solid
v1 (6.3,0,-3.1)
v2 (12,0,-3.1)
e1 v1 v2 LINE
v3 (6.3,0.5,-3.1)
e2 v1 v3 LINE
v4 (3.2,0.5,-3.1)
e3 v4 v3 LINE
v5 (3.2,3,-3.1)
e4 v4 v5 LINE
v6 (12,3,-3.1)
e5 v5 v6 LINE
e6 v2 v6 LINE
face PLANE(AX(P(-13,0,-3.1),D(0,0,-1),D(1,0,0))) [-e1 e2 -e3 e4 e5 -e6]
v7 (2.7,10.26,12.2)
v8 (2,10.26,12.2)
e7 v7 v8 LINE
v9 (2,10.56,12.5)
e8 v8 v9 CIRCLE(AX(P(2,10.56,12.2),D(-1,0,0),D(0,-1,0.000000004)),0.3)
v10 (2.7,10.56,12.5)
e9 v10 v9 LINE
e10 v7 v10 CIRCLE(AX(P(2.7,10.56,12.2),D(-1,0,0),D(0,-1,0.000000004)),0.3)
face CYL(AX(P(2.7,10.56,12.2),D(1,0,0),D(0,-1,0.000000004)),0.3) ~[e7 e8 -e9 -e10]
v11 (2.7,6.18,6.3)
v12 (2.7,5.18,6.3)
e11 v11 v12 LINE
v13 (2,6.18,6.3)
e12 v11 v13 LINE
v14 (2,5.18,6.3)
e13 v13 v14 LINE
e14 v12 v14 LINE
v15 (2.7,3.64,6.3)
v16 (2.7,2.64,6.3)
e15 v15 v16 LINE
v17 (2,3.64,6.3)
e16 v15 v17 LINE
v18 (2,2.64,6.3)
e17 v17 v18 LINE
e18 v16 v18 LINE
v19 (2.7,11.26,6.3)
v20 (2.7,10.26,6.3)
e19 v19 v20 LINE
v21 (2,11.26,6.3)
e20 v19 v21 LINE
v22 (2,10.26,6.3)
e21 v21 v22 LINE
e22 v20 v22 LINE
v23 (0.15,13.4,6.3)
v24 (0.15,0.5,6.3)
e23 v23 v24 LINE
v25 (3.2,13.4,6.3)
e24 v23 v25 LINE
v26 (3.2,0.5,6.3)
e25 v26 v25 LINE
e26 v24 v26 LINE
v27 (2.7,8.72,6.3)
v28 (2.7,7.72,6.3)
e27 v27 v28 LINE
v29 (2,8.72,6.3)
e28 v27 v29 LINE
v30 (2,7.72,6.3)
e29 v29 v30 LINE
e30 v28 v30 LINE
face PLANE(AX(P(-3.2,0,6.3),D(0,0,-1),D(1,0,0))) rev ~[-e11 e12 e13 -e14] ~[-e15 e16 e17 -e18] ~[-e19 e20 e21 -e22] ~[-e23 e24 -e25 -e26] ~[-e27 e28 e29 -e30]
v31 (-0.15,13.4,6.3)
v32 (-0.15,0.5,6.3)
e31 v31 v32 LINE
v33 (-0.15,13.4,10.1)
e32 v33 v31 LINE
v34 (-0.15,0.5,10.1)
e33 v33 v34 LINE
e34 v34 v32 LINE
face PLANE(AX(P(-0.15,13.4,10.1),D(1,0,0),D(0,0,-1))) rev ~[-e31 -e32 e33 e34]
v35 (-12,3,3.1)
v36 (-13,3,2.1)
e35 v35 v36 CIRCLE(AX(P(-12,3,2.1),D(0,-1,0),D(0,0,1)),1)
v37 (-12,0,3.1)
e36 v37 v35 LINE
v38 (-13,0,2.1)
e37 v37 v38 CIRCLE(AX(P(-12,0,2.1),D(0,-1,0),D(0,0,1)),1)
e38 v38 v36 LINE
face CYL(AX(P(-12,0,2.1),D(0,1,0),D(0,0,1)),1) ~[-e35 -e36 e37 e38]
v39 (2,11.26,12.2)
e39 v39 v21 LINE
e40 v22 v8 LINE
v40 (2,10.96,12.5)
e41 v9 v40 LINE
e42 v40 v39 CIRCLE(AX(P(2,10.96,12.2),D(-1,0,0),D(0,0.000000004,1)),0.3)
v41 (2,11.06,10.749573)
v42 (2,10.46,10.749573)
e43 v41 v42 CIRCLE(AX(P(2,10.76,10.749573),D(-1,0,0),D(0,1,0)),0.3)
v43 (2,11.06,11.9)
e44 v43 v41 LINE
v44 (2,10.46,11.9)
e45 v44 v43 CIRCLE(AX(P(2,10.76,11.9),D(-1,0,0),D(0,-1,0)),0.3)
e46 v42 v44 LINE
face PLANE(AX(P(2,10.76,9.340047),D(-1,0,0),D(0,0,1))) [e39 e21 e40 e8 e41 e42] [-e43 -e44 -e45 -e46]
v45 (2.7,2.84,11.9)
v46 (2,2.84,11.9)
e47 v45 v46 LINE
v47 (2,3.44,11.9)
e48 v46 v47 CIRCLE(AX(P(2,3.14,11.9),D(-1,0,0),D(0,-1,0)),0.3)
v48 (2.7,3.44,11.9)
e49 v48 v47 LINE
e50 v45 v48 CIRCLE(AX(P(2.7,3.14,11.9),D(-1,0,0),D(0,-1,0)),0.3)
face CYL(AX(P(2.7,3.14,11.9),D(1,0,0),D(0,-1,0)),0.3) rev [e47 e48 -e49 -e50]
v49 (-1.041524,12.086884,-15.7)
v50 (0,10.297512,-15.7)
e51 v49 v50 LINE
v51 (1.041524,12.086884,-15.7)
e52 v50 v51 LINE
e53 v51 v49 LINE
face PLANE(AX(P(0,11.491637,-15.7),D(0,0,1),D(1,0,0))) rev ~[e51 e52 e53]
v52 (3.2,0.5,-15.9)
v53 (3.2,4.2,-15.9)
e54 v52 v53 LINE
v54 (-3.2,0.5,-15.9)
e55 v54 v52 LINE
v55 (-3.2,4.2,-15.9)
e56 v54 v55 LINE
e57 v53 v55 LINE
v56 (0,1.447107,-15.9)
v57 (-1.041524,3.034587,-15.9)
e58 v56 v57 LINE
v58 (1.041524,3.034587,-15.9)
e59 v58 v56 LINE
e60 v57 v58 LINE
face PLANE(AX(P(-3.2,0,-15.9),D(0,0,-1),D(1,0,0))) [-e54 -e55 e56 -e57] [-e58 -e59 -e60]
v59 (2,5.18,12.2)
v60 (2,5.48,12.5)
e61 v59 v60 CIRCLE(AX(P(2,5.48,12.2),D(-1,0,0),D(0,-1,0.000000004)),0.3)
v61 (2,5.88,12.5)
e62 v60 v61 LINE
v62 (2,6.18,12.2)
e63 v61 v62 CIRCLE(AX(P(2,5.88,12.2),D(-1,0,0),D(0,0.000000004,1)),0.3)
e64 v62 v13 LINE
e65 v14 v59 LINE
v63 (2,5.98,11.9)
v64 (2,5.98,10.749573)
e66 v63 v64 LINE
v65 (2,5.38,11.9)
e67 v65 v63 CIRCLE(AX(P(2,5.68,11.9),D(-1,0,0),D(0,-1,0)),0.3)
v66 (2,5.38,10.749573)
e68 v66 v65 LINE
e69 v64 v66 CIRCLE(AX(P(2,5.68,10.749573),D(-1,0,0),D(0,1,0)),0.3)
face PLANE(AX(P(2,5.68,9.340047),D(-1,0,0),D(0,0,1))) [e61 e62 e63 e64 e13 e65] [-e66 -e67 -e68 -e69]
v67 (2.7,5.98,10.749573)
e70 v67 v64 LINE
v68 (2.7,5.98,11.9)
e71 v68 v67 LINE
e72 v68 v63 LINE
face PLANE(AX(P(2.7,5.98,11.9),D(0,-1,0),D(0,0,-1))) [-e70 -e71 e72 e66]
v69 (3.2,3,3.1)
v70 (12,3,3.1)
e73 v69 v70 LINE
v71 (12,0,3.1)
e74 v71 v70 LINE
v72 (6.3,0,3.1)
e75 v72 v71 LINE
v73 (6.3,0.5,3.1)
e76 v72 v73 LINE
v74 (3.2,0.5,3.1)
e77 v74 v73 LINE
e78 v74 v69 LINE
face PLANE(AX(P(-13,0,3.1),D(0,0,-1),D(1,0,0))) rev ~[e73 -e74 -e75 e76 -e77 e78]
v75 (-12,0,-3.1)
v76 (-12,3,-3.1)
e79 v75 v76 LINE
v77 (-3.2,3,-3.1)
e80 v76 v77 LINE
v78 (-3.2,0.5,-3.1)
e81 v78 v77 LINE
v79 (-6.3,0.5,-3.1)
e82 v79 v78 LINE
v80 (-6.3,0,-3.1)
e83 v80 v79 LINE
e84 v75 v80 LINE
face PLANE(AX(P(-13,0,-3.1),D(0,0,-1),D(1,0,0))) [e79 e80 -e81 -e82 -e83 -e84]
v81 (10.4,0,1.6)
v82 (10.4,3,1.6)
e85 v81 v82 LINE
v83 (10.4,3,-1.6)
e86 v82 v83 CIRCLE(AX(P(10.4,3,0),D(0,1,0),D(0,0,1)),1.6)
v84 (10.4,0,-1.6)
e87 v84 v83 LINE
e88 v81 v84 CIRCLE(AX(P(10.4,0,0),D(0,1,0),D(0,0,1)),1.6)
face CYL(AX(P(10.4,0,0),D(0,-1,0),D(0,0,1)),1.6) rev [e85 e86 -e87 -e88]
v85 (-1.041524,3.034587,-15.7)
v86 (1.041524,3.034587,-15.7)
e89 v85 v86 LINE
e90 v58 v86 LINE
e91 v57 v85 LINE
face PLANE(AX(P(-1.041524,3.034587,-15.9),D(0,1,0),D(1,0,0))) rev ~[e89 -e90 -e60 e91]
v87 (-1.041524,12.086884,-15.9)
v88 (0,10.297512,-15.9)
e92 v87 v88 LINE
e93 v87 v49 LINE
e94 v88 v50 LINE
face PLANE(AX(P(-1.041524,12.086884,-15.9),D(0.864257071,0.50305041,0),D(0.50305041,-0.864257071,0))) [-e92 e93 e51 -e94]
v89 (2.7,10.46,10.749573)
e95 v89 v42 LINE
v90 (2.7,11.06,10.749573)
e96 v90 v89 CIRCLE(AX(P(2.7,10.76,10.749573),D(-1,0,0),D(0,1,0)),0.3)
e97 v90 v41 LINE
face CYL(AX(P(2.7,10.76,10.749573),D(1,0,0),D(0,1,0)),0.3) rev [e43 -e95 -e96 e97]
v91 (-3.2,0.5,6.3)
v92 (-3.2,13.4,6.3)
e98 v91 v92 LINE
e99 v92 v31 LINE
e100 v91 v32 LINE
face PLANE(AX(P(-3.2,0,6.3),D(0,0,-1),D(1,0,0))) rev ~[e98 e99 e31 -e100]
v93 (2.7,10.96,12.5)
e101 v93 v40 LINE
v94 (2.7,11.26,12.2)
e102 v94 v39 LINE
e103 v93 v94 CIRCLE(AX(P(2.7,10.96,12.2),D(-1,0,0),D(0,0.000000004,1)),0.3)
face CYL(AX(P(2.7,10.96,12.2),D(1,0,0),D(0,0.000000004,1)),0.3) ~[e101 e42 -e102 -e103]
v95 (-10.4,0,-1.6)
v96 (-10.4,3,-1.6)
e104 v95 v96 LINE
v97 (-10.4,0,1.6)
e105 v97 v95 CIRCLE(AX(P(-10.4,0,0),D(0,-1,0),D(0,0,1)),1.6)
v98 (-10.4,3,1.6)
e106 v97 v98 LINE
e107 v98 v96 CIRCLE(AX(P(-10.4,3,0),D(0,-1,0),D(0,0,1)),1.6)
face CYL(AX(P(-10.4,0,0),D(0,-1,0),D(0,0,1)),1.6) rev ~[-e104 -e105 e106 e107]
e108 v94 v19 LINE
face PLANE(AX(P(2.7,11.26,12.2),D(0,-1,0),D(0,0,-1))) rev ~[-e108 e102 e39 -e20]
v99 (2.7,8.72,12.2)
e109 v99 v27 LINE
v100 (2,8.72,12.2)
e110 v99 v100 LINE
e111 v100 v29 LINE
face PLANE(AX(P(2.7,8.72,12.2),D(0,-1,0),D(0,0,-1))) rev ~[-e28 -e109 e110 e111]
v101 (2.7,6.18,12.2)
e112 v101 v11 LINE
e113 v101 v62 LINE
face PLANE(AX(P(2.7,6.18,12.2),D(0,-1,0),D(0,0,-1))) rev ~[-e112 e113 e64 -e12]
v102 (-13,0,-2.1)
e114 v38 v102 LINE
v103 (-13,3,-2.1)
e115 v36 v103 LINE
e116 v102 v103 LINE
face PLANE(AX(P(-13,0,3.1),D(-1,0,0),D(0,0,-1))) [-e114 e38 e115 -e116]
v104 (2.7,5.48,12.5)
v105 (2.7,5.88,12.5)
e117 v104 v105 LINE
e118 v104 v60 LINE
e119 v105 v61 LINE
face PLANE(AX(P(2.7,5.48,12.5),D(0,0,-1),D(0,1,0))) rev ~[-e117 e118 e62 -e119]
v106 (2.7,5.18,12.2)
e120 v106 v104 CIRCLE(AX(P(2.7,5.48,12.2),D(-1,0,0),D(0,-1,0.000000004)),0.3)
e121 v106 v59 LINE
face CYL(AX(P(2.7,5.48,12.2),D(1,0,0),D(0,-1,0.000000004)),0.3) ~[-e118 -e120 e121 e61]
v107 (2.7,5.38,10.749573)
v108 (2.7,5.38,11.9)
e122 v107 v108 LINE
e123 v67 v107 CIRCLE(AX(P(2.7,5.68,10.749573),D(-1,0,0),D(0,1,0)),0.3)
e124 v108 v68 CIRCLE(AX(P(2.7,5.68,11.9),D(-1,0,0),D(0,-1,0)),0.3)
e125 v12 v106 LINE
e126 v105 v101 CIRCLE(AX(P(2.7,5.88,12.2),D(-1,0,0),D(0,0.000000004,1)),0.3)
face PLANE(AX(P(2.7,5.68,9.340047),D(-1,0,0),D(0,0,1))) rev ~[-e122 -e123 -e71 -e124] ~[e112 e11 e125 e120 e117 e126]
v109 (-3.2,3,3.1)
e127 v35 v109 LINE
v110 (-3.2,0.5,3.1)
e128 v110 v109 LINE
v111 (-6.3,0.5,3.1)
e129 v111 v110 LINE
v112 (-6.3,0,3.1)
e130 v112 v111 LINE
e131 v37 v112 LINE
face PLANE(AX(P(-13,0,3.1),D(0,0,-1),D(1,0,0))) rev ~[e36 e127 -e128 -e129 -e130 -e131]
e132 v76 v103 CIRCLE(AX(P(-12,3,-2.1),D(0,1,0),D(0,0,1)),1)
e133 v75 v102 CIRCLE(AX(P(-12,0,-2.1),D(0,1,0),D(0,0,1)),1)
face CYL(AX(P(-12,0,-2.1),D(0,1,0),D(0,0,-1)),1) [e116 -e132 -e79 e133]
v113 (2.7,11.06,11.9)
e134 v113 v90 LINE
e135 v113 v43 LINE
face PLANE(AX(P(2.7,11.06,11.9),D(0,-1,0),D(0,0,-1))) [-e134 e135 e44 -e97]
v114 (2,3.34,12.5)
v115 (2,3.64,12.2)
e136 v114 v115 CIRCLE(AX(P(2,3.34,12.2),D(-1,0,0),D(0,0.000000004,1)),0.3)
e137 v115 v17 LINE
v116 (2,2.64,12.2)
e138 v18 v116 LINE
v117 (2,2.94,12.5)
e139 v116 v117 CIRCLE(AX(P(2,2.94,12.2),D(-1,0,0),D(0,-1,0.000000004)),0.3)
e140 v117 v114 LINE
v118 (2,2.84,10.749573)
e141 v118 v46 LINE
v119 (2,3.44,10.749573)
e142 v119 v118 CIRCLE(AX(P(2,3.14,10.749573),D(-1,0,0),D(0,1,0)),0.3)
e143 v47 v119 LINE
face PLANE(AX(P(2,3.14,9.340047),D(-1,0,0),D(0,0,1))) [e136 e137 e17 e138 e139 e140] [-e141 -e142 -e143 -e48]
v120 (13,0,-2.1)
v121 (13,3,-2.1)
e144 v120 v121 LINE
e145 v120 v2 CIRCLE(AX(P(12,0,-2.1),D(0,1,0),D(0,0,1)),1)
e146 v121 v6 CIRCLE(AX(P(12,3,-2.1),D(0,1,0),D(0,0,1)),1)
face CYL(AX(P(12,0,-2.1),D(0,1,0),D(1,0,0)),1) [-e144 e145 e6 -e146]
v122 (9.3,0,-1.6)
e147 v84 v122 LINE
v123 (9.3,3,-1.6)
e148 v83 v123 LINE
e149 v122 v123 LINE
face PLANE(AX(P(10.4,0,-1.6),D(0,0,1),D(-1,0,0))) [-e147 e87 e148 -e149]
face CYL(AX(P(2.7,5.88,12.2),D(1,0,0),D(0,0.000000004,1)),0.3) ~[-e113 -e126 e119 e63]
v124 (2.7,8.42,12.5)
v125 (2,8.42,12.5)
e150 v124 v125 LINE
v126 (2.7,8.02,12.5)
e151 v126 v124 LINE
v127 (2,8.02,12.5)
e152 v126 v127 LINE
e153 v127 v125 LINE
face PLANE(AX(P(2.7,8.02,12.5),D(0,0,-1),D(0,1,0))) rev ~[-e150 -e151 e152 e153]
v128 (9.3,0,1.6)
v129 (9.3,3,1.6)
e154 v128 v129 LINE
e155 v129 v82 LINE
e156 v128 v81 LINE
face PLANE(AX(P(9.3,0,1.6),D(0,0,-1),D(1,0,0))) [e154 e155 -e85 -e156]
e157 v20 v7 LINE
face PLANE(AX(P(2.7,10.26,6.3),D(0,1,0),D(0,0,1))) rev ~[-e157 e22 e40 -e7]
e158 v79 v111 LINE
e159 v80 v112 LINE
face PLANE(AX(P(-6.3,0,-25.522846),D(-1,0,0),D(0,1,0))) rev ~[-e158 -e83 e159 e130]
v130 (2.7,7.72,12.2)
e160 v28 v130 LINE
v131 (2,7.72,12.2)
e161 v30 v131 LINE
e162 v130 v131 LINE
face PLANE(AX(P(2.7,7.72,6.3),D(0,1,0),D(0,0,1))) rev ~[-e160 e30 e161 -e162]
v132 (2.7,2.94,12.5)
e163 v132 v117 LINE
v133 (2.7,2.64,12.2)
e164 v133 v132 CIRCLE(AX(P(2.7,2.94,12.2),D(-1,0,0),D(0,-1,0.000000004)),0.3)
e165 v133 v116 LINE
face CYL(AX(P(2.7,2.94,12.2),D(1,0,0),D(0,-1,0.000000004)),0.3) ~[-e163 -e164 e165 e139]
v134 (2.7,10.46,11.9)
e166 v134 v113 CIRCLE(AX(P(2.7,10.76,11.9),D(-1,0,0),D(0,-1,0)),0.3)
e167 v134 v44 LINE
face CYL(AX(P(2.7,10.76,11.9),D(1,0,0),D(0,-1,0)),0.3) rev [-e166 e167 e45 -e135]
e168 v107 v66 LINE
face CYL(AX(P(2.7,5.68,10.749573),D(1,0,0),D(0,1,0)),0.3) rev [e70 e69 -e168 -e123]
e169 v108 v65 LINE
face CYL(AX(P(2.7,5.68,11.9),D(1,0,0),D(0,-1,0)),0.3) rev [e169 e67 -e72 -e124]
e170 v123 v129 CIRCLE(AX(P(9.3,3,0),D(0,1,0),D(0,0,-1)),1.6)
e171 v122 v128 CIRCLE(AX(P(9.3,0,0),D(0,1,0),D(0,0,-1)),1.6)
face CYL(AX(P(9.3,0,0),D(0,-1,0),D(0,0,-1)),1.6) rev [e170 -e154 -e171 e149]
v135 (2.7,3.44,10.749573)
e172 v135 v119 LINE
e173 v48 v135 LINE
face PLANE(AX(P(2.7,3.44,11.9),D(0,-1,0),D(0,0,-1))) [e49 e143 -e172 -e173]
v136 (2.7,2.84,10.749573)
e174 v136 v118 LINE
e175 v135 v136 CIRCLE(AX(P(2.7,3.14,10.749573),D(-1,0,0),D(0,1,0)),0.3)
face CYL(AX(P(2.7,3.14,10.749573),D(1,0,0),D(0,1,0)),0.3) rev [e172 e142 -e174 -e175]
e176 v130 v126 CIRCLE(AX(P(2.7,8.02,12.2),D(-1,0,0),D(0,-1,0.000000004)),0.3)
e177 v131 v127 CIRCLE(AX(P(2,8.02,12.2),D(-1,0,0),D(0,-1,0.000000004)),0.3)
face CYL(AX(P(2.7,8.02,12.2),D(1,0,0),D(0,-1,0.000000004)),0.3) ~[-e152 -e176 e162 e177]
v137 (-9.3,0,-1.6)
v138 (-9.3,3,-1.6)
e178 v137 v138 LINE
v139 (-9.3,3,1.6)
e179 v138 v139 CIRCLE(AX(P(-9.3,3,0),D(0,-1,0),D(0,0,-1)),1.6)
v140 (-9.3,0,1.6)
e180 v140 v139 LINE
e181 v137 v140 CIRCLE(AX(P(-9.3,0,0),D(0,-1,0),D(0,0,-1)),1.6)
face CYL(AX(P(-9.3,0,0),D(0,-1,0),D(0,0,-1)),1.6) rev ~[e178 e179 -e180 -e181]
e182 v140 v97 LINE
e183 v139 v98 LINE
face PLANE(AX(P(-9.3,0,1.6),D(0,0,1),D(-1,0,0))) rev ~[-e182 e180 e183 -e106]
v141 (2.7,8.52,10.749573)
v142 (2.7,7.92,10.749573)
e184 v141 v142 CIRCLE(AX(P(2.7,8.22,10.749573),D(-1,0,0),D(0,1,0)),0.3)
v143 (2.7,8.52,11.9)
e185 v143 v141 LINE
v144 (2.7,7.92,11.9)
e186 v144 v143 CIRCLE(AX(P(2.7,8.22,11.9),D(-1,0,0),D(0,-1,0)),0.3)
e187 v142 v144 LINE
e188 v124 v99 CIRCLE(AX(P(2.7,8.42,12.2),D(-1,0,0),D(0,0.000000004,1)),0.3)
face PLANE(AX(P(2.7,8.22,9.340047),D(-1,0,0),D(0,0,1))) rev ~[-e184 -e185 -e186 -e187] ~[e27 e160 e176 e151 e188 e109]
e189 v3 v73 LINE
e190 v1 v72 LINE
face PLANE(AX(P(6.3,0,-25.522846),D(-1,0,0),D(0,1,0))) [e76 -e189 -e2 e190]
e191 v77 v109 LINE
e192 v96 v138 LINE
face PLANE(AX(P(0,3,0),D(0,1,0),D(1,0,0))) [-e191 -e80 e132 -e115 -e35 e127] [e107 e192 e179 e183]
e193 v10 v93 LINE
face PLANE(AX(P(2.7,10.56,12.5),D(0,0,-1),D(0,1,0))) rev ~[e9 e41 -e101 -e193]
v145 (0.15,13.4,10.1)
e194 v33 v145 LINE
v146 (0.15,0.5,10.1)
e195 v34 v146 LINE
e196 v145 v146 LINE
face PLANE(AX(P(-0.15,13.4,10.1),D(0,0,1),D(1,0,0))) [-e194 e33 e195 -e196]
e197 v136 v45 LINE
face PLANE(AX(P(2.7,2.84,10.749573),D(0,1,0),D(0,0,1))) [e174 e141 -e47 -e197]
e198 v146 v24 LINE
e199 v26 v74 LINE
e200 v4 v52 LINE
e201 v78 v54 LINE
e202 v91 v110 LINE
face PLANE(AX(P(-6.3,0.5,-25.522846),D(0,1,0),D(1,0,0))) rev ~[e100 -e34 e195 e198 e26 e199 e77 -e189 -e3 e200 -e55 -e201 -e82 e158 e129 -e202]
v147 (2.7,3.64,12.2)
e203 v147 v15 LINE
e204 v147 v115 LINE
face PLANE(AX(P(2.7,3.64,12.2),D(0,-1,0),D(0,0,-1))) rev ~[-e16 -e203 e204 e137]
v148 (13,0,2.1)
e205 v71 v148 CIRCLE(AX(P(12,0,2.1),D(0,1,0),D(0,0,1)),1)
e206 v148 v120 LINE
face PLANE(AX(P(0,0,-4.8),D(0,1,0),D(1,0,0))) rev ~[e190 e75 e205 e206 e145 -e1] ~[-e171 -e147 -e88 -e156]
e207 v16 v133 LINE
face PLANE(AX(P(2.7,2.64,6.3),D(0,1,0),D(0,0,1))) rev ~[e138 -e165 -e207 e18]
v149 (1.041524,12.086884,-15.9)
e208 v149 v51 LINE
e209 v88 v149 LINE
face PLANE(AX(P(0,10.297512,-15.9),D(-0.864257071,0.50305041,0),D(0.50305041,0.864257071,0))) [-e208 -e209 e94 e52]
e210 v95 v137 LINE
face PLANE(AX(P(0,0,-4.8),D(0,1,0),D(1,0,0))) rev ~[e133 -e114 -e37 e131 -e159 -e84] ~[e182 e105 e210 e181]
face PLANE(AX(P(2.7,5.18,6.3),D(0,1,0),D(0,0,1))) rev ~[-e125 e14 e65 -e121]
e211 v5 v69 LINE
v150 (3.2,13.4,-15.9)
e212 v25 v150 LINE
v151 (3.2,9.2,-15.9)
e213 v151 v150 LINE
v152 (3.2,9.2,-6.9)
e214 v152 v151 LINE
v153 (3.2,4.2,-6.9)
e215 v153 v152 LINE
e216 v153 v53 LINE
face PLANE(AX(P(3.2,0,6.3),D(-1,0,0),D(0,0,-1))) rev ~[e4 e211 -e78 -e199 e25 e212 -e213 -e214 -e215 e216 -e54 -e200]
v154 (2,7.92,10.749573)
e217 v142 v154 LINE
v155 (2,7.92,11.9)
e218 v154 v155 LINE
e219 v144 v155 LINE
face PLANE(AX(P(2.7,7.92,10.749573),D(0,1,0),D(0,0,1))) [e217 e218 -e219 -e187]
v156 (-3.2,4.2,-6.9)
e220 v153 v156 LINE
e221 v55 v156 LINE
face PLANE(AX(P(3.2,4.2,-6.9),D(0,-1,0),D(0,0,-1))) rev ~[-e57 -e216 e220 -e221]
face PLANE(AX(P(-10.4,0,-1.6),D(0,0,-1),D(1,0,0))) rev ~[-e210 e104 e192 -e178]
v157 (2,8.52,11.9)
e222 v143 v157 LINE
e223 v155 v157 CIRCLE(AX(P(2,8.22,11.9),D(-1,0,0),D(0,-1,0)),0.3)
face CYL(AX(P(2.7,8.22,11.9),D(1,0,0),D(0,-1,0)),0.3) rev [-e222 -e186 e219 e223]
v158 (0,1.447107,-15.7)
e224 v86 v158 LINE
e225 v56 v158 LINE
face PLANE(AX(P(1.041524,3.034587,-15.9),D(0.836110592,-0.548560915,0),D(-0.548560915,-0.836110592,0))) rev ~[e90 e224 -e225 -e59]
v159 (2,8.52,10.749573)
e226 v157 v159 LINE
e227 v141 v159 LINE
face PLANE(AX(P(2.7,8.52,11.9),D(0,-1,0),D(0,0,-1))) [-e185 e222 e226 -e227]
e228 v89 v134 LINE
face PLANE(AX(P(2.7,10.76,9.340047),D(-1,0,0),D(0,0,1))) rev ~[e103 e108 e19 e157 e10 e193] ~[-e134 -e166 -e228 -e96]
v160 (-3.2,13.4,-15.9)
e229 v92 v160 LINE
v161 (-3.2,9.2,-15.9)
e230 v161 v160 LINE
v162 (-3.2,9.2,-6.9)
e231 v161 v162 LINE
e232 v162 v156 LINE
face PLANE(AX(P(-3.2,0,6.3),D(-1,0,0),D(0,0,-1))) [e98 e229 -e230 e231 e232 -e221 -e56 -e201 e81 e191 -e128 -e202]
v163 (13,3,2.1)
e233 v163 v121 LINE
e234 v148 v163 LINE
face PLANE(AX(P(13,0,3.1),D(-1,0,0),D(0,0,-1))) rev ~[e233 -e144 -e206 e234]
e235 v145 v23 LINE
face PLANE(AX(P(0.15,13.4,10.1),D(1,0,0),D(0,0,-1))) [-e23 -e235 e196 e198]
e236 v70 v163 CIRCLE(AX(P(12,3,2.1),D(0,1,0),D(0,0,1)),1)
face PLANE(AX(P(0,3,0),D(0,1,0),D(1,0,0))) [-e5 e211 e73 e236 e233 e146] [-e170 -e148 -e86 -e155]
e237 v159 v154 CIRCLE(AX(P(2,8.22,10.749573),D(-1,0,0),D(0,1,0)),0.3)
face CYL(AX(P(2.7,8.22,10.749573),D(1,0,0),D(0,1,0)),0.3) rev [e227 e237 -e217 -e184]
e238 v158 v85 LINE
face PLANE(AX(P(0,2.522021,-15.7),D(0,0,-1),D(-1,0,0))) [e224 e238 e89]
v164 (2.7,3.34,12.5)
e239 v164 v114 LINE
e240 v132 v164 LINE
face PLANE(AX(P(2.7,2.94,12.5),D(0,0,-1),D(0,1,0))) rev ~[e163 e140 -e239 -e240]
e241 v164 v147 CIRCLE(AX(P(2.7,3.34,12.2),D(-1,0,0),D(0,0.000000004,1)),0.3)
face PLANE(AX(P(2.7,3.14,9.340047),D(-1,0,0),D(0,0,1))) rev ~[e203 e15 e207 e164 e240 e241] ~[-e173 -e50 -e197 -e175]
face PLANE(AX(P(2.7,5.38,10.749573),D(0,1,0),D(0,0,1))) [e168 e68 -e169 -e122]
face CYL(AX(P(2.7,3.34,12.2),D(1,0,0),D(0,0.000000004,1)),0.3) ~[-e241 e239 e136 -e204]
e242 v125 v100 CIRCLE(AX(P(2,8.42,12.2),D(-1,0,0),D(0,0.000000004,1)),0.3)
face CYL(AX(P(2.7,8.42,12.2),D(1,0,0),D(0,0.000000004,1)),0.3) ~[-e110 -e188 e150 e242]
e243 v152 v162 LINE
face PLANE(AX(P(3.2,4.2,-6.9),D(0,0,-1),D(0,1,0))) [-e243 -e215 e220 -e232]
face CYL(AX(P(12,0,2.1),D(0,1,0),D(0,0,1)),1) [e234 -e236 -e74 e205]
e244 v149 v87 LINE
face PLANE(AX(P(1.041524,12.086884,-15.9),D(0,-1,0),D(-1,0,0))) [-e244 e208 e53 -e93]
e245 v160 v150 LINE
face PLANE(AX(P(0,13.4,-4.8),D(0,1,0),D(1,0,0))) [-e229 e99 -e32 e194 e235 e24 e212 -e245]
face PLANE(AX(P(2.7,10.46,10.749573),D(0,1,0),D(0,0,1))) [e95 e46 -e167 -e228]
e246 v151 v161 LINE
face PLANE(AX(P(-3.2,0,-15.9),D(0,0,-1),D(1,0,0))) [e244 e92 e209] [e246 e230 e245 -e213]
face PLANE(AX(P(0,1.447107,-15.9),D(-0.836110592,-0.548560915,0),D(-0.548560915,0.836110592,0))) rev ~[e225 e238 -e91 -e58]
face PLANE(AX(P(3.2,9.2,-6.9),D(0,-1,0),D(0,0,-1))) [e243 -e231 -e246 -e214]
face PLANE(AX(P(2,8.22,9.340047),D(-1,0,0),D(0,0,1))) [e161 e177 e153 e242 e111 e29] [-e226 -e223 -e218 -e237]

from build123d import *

# Parameters (mm, degrees)
SKETCH2_W               = 26
SKETCH2_H               = 6.2
BOSS_EXTRUDE1_DEPTH     = 3
SKETCH3_W               = 6.4
SKETCH3_H               = 22.2
BOSS_EXTRUDE2_DEPTH     = 13.4
SKETCH4_W               = 9
SKETCH4_H               = 5
CUT_EXTRUDE1_DEPTH      = 27.359248851
FILLET1_R               = 1
CUT_EXTRUDE2_DEPTH      = 25.522846491
CUT_EXTRUDE2_DEPTH_BACK = 25.522846491
SKETCH6_W               = 12.6
SKETCH6_H               = 0.5
SKETCH8_W               = 0.3
SKETCH8_H               = 3.8
BOSS_EXTRUDE4_DEPTH     = 12.9
BOSS_EXTRUDE5_START     = -0.5
BOSS_EXTRUDE5_DEPTH     = 0.7
CUT_EXTRUDE3_DEPTH      = 0.2


with BuildPart() as part:
    # Sketch2 → Boss-Extrude1 (new body)
    with BuildSketch(Plane(origin=(0, 0, 0), x_dir=(1, 0, 0), z_dir=(0, 1, 0))):
        Rectangle(SKETCH2_W, SKETCH2_H)
        with BuildLine():
            Line((-10.4, 1.6), (-9.3, 1.6))
            ThreePointArc((-9.3, 1.6), (-7.7, 0), (-9.3, -1.6))
            Line((-9.3, -1.6), (-10.4, -1.6))
            ThreePointArc((-10.4, -1.6), (-12, 0), (-10.4, 1.6))
        make_face(mode=Mode.SUBTRACT)
        with BuildLine():
            Line((10.4, 1.6), (9.3, 1.6))
            ThreePointArc((9.3, 1.6), (7.7, 0), (9.3, -1.6))
            Line((9.3, -1.6), (10.4, -1.6))
            ThreePointArc((10.4, -1.6), (12, 0), (10.4, 1.6))
        make_face(mode=Mode.SUBTRACT)
    extrude(amount=BOSS_EXTRUDE1_DEPTH)

    # Sketch3 → Boss-Extrude2 (add)
    with BuildSketch(Plane(origin=(0, 0, 0), x_dir=(1, 0, 0), z_dir=(0, 1, 0))):
        with Locations((0, 4.8)):
            Rectangle(SKETCH3_W, SKETCH3_H)
    extrude(amount=BOSS_EXTRUDE2_DEPTH)

    # Sketch4 → Cut-Extrude1 (cut, through all)
    with BuildSketch(Plane(origin=(3.2, 0, 0), x_dir=(0, 0, -1), z_dir=(1, 0, 0))):
        with Locations((11.4, 6.7)):
            Rectangle(SKETCH4_W, SKETCH4_H)
    extrude(amount=-CUT_EXTRUDE1_DEPTH, mode=Mode.SUBTRACT)

    # Fillet1
    fillet1_edges = [part.edges().sort_by_distance(p)[0] for p in [
        (-13, 1.5, -3.1),
        (13, 1.5, -3.1),
        (13, 1.5, 3.1),
        (-13, 1.5, 3.1),
    ]]
    fillet(fillet1_edges, radius=FILLET1_R)

    # Sketch6 → Cut-Extrude2 (cut, two sides: drawn at the far end of the back side and taken through both)
    with BuildSketch(Plane.XY.offset(-CUT_EXTRUDE2_DEPTH_BACK)):
        with Locations((0, 0.25)):
            Rectangle(SKETCH6_W, SKETCH6_H)
    extrude(amount=CUT_EXTRUDE2_DEPTH + CUT_EXTRUDE2_DEPTH_BACK, mode=Mode.SUBTRACT)

    # Sketch8 → Boss-Extrude4 (add)
    with BuildSketch(Plane(origin=(0, 13.4, 0), x_dir=(1, 0, 0), z_dir=(0, 1, 0))):
        with Locations((0, -8.2)):
            Rectangle(SKETCH8_W, SKETCH8_H)
    extrude(amount=-BOSS_EXTRUDE4_DEPTH)

    # Sketch9 → Boss-Extrude5 (add)
    # profile 1 of 4: a face of its own
    with BuildSketch(Plane(origin=(3.2, 0, 0), x_dir=(0, 0, -1), z_dir=(1, 0, 0)).offset(BOSS_EXTRUDE5_START)):
        with BuildLine():
            Line((-6.3, 7.72), (-12.2, 7.72))
            ThreePointArc((-12.2, 7.72), (-12.412132034, 7.807867966), (-12.5, 8.02))
            Line((-12.5, 8.02), (-12.5, 8.42))
            ThreePointArc((-12.5, 8.42), (-12.412132034, 8.632132034), (-12.2, 8.72))
            Line((-12.2, 8.72), (-6.3, 8.72))
            Line((-6.3, 8.72), (-6.3, 7.72))
        make_face()
        with BuildLine():
            Line((-11.9, 8.52), (-10.749572658, 8.52))
            ThreePointArc((-10.749572658, 8.52), (-10.449572658, 8.22), (-10.749572658, 7.92))
            Line((-10.749572658, 7.92), (-11.9, 7.92))
            ThreePointArc((-11.9, 7.92), (-12.2, 8.22), (-11.9, 8.52))
        make_face(mode=Mode.SUBTRACT)
    # profile 2 of 4: a face of its own
    with BuildSketch(Plane(origin=(3.2, 0, 0), x_dir=(0, 0, -1), z_dir=(1, 0, 0)).offset(BOSS_EXTRUDE5_START)):
        with BuildLine():
            Line((-6.3, 10.26), (-12.2, 10.26))
            ThreePointArc((-12.2, 10.26), (-12.412132034, 10.347867966), (-12.5, 10.56))
            Line((-12.5, 10.56), (-12.5, 10.96))
            ThreePointArc((-12.5, 10.96), (-12.412132034, 11.172132034), (-12.2, 11.26))
            Line((-12.2, 11.26), (-6.3, 11.26))
            Line((-6.3, 11.26), (-6.3, 10.26))
        make_face()
        with BuildLine():
            Line((-11.9, 11.06), (-10.749572658, 11.06))
            ThreePointArc((-10.749572658, 11.06), (-10.449572658, 10.76), (-10.749572658, 10.46))
            Line((-10.749572658, 10.46), (-11.9, 10.46))
            ThreePointArc((-11.9, 10.46), (-12.2, 10.76), (-11.9, 11.06))
        make_face(mode=Mode.SUBTRACT)
    # profile 3 of 4: a face of its own
    with BuildSketch(Plane(origin=(3.2, 0, 0), x_dir=(0, 0, -1), z_dir=(1, 0, 0)).offset(BOSS_EXTRUDE5_START)):
        with BuildLine():
            Line((-6.3, 5.18), (-12.2, 5.18))
            ThreePointArc((-12.2, 5.18), (-12.412132034, 5.267867966), (-12.5, 5.48))
            Line((-12.5, 5.48), (-12.5, 5.88))
            ThreePointArc((-12.5, 5.88), (-12.412132034, 6.092132034), (-12.2, 6.18))
            Line((-12.2, 6.18), (-6.3, 6.18))
            Line((-6.3, 6.18), (-6.3, 5.18))
        make_face()
        with BuildLine():
            Line((-11.9, 5.98), (-10.749572658, 5.98))
            ThreePointArc((-10.749572658, 5.98), (-10.449572658, 5.68), (-10.749572658, 5.38))
            Line((-10.749572658, 5.38), (-11.9, 5.38))
            ThreePointArc((-11.9, 5.38), (-12.2, 5.68), (-11.9, 5.98))
        make_face(mode=Mode.SUBTRACT)
    # profile 4 of 4: a face of its own
    with BuildSketch(Plane(origin=(3.2, 0, 0), x_dir=(0, 0, -1), z_dir=(1, 0, 0)).offset(BOSS_EXTRUDE5_START)):
        with BuildLine():
            Line((-6.3, 2.64), (-12.2, 2.64))
            ThreePointArc((-12.2, 2.64), (-12.412132034, 2.727867966), (-12.5, 2.94))
            Line((-12.5, 2.94), (-12.5, 3.34))
            ThreePointArc((-12.5, 3.34), (-12.412132034, 3.552132034), (-12.2, 3.64))
            Line((-12.2, 3.64), (-6.3, 3.64))
            Line((-6.3, 3.64), (-6.3, 2.64))
        make_face()
        with BuildLine():
            Line((-11.9, 3.44), (-10.749572658, 3.44))
            ThreePointArc((-10.749572658, 3.44), (-10.449572658, 3.14), (-10.749572658, 2.84))
            Line((-10.749572658, 2.84), (-11.9, 2.84))
            ThreePointArc((-11.9, 2.84), (-12.2, 3.14), (-11.9, 3.44))
        make_face(mode=Mode.SUBTRACT)
    extrude(amount=-BOSS_EXTRUDE5_DEPTH)

    # Sketch10 → Cut-Extrude3 (cut)
    with BuildSketch(Plane(origin=(0, 0, -15.9), x_dir=(-1, 0, 0), z_dir=(0, 0, -1))):
        Polygon((0, 10.297511632), (-1.041523937, 12.086883848), (1.041523937, 12.086883848), align=None)
        Polygon((1.041523937, 3.034586906), (-1.041523937, 3.034586906), (0, 1.447107426), align=None)
    extrude(amount=-CUT_EXTRUDE3_DEPTH, mode=Mode.SUBTRACT)


solid = part.part
